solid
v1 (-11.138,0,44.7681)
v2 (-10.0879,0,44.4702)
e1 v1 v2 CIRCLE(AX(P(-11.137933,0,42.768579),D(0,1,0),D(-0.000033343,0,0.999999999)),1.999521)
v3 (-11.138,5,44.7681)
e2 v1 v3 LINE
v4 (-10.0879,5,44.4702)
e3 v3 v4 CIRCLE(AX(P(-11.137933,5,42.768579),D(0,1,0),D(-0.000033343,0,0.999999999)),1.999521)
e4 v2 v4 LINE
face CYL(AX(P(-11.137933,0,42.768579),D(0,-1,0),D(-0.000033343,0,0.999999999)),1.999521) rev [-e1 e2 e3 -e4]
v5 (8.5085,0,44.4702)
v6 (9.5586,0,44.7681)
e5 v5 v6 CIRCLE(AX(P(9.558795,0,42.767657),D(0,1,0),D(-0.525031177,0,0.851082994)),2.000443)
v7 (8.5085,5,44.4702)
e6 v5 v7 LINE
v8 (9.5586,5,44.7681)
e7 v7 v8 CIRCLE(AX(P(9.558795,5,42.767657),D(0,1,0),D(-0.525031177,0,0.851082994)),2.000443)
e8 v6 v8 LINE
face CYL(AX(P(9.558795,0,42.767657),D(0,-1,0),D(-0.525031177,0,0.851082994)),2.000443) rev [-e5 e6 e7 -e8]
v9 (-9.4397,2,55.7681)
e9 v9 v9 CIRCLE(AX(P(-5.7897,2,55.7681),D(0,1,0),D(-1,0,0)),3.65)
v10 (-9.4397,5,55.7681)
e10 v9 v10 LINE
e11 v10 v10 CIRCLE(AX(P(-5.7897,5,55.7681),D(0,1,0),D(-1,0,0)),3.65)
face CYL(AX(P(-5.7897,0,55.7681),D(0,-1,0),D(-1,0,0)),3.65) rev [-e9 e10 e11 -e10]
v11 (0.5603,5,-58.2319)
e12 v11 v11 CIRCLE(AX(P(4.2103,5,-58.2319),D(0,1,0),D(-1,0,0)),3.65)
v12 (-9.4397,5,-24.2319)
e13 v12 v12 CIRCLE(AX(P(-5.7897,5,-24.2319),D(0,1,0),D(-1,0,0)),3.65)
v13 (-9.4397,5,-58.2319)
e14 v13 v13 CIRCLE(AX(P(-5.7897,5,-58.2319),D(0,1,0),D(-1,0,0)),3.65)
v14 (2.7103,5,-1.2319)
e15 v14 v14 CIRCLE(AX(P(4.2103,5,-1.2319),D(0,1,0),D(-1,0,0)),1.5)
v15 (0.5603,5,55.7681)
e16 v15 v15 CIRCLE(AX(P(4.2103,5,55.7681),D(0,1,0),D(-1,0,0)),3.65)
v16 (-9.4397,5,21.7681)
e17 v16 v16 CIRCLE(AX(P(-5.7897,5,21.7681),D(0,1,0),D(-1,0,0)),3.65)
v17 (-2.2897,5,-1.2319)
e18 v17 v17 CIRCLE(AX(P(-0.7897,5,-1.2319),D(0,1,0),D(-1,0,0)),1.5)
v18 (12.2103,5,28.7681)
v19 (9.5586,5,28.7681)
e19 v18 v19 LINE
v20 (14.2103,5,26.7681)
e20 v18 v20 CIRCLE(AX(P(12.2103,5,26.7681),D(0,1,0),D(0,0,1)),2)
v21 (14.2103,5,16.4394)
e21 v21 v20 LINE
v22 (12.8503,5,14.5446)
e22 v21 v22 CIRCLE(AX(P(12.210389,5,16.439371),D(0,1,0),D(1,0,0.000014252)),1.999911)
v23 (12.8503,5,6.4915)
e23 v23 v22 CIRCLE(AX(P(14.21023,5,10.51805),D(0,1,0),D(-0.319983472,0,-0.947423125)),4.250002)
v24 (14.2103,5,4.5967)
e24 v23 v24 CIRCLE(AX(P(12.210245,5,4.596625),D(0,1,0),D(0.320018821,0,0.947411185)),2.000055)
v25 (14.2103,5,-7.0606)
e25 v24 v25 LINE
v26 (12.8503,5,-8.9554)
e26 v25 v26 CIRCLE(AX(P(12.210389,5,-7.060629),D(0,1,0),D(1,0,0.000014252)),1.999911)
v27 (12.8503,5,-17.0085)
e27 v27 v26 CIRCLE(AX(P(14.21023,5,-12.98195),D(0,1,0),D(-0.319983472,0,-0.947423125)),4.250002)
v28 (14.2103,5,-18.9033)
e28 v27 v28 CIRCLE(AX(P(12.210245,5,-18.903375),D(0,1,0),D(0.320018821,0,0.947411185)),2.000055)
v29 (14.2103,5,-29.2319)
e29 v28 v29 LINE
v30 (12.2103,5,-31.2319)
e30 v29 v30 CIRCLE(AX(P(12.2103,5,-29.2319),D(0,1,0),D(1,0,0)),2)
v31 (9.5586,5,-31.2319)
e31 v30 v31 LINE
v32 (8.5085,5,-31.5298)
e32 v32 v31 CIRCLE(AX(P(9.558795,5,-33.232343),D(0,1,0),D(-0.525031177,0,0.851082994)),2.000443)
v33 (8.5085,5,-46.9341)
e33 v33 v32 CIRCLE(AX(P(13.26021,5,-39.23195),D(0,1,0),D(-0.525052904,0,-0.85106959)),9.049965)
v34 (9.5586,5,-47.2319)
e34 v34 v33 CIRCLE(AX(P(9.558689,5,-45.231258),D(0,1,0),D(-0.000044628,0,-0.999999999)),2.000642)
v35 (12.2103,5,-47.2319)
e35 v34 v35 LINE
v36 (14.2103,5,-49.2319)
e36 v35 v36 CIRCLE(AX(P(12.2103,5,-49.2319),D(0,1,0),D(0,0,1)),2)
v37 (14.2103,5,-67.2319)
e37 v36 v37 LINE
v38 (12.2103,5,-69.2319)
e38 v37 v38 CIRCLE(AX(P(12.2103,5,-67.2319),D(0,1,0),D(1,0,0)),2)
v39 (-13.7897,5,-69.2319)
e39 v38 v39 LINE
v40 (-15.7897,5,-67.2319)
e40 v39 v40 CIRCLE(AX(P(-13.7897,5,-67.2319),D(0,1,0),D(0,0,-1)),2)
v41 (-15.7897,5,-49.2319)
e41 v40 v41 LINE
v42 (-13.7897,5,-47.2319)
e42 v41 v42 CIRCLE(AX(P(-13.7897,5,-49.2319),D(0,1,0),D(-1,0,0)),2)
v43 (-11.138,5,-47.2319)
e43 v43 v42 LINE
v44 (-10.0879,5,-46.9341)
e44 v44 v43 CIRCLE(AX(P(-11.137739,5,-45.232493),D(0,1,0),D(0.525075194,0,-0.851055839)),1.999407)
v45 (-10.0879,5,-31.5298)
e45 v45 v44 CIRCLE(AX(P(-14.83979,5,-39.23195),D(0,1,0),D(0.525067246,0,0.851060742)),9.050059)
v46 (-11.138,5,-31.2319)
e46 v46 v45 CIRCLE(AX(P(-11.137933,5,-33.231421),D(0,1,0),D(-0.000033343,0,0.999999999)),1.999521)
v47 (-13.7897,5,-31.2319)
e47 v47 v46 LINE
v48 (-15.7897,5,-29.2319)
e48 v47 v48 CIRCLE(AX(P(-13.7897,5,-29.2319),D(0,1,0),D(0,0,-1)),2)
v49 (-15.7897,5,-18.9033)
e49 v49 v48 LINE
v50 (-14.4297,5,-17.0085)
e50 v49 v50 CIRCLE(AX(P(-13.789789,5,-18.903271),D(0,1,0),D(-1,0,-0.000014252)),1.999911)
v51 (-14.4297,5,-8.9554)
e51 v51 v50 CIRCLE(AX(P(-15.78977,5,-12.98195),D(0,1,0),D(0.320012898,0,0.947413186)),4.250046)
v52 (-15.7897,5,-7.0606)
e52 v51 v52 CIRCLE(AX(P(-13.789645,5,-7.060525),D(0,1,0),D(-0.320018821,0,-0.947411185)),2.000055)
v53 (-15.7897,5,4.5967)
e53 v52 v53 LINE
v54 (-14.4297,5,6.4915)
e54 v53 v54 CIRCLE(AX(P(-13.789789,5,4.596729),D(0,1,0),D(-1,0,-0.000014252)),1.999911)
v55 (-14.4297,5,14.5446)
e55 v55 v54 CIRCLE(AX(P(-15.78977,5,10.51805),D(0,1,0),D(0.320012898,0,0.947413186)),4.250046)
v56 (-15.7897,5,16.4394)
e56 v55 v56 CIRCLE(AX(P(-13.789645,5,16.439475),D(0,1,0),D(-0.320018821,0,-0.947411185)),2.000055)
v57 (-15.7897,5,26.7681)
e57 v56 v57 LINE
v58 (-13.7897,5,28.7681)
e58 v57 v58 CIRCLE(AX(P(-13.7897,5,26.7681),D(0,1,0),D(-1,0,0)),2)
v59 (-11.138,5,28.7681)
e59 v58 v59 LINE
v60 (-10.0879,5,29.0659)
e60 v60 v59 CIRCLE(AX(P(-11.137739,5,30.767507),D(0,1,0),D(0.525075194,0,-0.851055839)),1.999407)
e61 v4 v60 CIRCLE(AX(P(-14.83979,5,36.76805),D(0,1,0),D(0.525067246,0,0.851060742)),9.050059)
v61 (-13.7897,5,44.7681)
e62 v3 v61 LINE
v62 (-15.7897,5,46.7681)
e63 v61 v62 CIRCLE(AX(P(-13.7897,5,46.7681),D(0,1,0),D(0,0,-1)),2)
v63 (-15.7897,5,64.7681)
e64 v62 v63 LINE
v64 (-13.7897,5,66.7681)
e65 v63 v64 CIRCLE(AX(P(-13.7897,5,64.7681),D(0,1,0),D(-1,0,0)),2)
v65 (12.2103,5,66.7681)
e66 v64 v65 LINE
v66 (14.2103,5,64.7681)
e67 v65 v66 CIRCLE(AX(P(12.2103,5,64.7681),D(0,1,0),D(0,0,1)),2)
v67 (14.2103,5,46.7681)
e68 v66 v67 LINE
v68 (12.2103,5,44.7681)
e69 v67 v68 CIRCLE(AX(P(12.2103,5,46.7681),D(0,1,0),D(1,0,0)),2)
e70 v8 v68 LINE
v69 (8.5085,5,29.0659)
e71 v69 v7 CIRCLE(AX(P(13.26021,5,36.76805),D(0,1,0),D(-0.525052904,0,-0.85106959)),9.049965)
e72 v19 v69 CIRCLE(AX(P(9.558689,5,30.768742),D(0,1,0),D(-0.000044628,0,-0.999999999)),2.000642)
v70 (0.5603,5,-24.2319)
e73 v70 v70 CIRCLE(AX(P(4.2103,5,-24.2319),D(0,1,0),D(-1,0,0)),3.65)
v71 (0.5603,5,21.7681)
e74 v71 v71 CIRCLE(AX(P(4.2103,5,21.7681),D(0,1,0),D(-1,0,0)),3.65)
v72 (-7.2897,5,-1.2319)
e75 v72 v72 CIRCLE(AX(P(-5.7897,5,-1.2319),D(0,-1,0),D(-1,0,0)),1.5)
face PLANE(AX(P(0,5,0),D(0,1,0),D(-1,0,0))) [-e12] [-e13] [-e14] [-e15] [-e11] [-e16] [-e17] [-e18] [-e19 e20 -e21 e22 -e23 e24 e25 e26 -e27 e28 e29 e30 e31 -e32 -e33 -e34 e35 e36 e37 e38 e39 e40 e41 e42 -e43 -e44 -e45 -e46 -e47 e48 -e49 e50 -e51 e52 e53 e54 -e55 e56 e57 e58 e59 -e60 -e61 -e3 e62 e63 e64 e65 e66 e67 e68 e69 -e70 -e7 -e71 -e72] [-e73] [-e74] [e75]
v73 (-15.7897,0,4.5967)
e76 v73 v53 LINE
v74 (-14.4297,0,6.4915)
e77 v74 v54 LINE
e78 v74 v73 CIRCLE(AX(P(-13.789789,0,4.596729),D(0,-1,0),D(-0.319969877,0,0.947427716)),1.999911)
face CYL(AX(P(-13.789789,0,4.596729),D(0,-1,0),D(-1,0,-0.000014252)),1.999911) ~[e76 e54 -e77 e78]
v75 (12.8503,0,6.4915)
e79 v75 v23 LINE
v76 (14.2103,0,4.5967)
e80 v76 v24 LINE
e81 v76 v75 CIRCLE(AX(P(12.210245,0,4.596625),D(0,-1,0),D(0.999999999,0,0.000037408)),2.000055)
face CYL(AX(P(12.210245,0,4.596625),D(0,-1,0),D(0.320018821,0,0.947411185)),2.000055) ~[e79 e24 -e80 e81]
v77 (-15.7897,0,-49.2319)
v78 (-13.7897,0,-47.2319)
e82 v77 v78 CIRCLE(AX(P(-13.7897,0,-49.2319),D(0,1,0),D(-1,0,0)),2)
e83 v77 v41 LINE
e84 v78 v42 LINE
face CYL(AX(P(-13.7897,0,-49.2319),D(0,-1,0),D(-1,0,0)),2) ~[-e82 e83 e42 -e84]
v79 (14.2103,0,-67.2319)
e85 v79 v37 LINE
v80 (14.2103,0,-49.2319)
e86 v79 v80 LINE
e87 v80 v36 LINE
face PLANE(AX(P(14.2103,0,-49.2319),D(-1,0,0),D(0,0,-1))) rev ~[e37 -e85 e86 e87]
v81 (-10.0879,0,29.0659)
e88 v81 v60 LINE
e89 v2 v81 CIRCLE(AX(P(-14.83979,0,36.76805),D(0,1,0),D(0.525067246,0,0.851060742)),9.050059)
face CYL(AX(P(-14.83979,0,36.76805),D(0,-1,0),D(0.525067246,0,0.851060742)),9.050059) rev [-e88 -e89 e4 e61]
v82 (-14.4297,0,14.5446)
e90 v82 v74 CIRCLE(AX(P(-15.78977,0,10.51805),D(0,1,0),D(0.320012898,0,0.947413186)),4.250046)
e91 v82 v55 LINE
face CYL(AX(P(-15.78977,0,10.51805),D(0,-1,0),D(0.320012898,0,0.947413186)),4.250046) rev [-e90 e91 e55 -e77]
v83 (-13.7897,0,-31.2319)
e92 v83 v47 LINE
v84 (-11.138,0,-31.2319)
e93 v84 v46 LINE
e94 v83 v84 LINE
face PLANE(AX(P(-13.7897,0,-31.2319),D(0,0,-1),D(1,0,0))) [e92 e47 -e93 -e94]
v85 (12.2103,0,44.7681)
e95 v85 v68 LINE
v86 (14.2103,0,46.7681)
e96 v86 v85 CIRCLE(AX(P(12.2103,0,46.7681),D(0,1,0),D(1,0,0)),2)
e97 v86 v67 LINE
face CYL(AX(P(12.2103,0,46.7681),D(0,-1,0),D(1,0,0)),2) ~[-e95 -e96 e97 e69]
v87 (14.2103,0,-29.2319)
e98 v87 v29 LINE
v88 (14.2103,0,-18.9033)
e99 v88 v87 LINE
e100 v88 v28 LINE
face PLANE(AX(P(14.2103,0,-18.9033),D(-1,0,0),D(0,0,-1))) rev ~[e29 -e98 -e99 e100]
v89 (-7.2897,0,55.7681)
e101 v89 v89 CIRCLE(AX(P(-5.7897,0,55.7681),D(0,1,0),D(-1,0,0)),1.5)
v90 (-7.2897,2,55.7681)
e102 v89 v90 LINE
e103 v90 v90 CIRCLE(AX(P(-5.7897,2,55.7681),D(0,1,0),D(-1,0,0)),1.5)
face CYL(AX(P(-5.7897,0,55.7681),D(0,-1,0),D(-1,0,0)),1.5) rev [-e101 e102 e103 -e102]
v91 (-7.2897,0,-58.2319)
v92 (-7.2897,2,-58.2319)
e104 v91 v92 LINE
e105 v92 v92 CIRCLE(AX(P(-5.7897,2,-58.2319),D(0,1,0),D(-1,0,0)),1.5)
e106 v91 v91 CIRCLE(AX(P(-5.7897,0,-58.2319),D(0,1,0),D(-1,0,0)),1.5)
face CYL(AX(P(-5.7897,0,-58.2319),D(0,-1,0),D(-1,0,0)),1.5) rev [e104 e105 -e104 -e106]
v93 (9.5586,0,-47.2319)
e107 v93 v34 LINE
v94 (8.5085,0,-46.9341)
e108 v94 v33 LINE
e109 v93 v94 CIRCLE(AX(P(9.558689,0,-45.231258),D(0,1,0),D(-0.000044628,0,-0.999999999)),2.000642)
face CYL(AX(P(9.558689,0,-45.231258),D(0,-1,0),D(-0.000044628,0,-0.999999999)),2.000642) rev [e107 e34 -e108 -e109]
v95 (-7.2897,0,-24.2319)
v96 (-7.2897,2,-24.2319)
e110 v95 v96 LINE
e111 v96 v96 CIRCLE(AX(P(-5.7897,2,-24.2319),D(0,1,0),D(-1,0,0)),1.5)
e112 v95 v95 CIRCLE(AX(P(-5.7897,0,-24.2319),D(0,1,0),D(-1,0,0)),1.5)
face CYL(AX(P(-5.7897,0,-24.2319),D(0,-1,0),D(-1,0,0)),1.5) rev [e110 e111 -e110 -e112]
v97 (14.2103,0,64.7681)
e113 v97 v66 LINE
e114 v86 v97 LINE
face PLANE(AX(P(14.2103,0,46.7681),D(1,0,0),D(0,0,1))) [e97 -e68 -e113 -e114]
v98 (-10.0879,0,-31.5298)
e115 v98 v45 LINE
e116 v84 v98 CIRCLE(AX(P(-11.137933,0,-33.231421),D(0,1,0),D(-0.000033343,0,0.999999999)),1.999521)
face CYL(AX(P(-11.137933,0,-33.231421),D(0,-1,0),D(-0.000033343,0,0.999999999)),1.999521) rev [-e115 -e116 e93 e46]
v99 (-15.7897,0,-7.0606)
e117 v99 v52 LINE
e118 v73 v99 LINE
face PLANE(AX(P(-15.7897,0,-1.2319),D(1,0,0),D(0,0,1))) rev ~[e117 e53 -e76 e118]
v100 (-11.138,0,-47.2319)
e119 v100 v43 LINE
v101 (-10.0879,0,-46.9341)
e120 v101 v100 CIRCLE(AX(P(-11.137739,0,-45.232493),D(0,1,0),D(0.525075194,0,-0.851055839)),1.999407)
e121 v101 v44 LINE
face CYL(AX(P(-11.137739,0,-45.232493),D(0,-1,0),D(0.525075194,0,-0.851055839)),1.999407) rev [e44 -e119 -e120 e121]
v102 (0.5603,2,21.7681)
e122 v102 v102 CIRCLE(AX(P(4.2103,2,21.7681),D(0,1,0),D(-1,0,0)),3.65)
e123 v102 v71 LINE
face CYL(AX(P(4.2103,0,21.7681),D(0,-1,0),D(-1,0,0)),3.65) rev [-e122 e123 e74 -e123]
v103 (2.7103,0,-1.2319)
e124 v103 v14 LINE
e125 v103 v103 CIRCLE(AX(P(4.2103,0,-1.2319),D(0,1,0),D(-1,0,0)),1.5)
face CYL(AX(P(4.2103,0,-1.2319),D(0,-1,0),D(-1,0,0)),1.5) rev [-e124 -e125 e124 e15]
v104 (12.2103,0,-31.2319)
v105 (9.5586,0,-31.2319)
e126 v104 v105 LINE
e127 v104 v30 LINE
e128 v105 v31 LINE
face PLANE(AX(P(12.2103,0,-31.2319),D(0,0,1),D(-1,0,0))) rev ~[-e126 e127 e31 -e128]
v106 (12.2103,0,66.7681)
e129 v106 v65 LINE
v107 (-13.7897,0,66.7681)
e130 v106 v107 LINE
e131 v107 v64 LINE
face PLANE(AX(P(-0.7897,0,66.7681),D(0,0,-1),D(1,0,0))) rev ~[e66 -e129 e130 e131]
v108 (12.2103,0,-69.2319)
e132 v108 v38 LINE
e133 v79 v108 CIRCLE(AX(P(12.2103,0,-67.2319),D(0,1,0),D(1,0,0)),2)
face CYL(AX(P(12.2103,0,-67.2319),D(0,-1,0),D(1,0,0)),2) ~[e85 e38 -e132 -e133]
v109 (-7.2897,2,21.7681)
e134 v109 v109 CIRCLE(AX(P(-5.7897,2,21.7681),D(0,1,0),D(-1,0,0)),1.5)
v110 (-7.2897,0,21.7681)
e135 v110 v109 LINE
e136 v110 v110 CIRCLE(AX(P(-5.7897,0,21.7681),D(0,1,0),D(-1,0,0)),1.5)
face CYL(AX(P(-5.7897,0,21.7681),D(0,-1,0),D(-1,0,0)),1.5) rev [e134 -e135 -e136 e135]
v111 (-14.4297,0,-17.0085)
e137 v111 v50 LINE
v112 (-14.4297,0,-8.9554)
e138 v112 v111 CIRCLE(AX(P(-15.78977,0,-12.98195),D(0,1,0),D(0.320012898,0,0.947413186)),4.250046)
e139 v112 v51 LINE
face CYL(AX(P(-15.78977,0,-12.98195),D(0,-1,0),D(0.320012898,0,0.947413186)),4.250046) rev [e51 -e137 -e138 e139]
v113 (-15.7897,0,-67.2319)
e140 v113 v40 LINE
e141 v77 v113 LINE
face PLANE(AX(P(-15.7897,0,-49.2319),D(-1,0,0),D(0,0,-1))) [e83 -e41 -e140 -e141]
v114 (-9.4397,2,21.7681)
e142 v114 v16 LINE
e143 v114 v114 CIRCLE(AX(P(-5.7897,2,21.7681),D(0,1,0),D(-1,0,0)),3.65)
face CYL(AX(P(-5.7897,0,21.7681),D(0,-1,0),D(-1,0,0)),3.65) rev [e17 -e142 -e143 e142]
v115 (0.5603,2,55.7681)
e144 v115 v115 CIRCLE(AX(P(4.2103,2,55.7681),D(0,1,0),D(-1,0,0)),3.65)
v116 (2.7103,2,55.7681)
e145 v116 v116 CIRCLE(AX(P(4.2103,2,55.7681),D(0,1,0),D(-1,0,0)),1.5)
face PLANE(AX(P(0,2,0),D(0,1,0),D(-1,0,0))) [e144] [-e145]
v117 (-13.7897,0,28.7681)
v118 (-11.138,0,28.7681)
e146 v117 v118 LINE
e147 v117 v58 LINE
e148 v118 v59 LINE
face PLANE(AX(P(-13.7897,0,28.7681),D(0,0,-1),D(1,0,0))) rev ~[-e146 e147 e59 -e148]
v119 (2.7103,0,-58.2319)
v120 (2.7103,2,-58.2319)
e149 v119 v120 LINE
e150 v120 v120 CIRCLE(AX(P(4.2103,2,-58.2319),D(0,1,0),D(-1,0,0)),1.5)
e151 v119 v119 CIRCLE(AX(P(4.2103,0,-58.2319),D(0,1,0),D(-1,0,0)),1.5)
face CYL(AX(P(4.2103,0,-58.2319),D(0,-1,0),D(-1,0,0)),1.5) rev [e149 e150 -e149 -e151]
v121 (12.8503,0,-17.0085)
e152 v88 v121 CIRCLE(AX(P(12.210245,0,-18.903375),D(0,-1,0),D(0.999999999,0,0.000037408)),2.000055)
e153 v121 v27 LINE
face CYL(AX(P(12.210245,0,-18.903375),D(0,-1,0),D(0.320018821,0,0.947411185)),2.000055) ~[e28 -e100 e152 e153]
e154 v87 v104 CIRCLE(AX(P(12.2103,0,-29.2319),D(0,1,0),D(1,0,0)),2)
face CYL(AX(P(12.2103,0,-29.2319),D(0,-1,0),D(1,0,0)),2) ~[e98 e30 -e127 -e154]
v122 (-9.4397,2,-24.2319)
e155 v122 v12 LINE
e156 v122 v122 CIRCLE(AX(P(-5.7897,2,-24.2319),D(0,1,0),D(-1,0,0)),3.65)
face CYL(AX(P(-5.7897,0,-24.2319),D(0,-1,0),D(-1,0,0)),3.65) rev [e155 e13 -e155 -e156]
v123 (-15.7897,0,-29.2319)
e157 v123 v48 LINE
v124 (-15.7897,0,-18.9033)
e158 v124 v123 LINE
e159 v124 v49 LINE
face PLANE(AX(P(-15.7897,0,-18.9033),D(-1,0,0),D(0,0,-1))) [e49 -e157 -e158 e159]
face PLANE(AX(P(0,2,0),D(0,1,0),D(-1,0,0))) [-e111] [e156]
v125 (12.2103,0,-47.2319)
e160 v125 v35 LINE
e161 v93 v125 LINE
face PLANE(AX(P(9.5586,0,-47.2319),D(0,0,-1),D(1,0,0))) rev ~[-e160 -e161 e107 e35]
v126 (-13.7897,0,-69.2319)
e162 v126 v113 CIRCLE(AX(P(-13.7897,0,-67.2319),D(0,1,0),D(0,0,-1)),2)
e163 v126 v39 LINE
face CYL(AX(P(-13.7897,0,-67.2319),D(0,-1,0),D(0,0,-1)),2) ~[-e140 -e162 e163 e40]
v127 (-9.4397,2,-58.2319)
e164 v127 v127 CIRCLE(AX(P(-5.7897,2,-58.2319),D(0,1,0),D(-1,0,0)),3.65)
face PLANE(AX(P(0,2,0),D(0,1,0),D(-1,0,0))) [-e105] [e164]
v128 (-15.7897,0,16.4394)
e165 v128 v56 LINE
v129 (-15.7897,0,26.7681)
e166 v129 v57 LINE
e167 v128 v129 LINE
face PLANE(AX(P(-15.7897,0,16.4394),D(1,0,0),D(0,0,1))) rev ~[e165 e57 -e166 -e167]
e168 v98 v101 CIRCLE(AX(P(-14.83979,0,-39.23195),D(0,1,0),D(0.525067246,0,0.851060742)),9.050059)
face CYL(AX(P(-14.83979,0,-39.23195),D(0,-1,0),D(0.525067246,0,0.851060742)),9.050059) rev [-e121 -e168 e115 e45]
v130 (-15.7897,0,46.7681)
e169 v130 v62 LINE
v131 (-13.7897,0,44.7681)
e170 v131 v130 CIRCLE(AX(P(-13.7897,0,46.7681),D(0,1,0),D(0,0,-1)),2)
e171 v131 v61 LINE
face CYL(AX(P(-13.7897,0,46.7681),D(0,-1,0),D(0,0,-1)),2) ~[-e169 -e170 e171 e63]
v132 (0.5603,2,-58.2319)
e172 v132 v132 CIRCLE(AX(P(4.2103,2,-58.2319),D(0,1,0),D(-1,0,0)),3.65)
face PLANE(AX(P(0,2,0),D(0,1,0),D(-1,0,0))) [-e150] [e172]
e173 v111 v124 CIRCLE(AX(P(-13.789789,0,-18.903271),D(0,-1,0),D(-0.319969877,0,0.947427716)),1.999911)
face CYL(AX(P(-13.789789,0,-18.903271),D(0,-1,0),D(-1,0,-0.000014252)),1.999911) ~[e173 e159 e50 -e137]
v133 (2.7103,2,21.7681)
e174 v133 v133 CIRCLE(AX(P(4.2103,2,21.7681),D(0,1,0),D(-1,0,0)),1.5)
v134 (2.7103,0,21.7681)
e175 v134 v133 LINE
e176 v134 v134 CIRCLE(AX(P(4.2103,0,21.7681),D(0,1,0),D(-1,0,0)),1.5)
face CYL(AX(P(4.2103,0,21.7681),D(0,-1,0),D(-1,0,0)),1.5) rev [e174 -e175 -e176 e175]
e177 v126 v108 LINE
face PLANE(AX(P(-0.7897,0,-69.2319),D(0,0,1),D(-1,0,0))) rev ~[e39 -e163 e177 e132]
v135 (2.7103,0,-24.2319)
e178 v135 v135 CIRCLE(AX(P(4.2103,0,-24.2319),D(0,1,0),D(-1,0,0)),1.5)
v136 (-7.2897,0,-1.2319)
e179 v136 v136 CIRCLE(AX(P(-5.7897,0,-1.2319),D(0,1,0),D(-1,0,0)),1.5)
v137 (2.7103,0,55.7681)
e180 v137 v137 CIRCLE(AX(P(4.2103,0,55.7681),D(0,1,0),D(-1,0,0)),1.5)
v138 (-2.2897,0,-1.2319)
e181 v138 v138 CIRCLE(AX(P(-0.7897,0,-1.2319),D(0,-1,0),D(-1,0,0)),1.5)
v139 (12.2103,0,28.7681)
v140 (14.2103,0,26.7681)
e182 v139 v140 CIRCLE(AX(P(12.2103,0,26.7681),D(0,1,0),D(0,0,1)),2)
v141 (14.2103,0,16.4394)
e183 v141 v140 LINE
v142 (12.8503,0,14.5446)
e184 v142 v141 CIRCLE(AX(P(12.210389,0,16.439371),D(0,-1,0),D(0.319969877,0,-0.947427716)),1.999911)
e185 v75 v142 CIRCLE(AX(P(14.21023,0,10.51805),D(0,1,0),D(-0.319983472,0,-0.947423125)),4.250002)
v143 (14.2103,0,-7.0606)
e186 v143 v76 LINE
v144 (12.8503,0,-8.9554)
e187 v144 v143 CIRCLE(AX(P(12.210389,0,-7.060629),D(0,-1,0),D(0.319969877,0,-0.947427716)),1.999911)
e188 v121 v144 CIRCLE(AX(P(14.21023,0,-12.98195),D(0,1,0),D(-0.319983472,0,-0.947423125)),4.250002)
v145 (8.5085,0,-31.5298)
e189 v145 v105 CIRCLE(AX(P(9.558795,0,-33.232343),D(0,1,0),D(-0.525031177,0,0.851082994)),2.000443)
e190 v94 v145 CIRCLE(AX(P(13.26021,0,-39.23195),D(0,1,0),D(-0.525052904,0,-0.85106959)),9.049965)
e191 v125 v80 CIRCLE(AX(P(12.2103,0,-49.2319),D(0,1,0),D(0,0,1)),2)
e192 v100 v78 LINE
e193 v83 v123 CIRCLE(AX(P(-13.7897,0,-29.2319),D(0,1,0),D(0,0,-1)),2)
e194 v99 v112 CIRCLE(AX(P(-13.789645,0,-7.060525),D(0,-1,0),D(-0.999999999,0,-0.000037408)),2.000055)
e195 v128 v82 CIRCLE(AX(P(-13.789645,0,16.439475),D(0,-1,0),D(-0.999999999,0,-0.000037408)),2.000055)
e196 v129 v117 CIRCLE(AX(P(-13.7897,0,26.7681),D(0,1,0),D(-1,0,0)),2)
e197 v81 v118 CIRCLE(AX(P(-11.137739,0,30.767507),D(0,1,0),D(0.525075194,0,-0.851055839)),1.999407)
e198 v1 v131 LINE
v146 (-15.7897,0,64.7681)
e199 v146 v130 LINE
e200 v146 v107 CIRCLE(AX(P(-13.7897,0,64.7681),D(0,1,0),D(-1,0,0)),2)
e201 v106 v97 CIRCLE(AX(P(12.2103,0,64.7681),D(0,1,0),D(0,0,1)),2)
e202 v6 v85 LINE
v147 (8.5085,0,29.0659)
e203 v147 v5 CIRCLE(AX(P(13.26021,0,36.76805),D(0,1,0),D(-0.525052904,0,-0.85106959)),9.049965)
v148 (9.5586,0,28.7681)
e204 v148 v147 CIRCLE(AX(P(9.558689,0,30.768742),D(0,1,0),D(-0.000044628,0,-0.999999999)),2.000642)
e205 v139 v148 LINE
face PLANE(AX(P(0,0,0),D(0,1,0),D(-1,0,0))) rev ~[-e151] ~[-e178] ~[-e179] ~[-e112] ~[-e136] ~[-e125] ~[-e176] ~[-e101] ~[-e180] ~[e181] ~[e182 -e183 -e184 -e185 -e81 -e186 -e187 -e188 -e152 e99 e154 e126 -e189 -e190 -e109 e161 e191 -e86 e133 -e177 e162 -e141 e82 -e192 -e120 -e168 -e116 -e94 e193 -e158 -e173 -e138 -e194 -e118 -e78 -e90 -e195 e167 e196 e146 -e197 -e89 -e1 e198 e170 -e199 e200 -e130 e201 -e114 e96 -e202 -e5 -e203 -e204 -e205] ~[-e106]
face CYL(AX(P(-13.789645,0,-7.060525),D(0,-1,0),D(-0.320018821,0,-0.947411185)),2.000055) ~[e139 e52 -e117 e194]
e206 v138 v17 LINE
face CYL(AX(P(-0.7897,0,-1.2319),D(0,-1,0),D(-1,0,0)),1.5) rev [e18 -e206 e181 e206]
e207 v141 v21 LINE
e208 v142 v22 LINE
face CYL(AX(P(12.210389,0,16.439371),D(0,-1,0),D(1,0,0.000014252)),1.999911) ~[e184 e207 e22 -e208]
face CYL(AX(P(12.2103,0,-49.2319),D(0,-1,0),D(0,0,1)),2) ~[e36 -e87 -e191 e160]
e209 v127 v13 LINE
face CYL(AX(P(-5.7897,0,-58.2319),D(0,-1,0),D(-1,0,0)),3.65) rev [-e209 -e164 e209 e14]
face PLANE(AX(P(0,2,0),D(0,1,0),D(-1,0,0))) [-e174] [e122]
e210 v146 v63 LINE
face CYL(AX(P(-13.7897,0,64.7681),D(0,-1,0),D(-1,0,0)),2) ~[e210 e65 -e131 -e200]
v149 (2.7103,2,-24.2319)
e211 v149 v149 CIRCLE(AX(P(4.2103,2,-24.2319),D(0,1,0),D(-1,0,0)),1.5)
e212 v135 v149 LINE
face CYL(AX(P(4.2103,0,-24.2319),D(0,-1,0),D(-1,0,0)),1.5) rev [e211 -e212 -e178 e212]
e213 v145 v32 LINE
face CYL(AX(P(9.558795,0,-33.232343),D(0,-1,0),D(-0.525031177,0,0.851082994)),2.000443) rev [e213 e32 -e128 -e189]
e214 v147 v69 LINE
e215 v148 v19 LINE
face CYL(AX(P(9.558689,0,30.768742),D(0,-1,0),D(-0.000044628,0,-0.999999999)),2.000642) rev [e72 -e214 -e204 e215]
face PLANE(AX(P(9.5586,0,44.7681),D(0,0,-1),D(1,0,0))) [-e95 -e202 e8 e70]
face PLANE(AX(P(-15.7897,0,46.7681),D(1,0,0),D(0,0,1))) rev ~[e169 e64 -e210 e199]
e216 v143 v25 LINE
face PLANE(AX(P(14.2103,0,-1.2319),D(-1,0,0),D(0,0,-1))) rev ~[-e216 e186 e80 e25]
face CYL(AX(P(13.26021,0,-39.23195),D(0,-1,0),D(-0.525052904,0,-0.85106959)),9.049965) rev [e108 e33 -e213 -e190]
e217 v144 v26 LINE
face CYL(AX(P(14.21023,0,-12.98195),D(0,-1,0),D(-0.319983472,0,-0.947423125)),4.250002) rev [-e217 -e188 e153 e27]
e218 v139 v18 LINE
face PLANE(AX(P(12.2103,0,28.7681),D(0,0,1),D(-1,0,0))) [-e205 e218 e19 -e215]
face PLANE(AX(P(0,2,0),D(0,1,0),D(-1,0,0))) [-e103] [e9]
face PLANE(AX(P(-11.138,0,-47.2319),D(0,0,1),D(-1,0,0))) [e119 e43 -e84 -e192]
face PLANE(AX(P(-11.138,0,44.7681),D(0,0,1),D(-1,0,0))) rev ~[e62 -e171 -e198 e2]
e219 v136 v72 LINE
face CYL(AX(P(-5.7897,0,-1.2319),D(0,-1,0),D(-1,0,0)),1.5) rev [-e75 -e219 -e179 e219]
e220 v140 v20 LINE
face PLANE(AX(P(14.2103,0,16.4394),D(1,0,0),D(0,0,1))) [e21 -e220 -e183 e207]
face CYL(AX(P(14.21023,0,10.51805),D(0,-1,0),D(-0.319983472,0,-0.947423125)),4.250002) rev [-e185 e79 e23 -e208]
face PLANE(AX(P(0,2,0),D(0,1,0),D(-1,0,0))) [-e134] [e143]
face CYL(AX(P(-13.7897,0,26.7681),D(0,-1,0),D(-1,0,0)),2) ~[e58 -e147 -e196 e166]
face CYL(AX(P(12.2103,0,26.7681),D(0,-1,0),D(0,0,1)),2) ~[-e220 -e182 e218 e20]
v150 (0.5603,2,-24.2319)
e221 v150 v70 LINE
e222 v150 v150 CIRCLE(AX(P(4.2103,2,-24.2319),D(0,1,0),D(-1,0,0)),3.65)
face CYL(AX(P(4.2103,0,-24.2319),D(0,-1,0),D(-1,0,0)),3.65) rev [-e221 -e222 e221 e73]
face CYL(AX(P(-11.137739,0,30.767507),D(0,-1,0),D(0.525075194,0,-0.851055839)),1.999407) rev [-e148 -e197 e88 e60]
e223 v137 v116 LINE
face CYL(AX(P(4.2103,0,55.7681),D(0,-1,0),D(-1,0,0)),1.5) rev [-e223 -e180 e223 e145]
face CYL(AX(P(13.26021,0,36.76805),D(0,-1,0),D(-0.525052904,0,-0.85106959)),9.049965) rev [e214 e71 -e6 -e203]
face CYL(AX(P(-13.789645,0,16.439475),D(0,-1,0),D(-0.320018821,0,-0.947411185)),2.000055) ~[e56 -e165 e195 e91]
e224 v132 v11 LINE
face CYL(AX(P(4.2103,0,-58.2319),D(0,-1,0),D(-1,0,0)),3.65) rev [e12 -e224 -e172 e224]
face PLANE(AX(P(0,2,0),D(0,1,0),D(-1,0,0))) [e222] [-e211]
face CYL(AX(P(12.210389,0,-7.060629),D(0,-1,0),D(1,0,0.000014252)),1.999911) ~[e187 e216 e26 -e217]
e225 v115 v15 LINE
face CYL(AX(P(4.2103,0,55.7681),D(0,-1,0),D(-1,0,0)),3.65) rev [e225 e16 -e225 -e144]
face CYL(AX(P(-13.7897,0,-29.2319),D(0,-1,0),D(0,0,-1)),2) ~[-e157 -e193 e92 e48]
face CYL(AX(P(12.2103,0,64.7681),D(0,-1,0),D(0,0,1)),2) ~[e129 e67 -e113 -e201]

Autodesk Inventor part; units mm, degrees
ref_plane "YZ Plane" through (0, 0, 0) normal (1, 0, 0) x (0, 1, 0)
ref_plane "XZ Plane" through (0, 0, 0) normal (0, 1, 0) x (-1, 0, 0)
ref_plane "XY Plane" through (0, 0, 0) normal (0, 0, 1) x (1, 0, 0)
sketch "Sketch1" plane through (0, 0, 0) normal (0, 1, 0) x (-1, 0, 0)
  line L0 (13.7897, -1.2319) -> (-9.6368, -1.2319) construction
  line L1 (0.7897, 10.3965) -> (0.7897, -17.2319) construction
  line L2 (0.7897, -1.2319) -> (15.7897, -1.2319)
  line L3 (15.7897, -1.2319) -> (15.7897, -7.0606)
  line L4 (15.7897, -8.7319) -> (0.7897, -8.7319)
  line L5 (0.7897, -8.7319) -> (0.7897, -1.2319)
  line L6 (21.7897, -1.2319) -> (-22.2103, -1.2319) construction
  line L7 (0.7897, 17.7681) -> (0.7897, -29.2319) construction
  circle A0 centre (5.7897, -24.2319) radius 3.65
  circle A1 centre (5.7897, -24.2319) radius 5
  circle A2 centre (5.7897, -58.2319) radius 3.65
  circle A3 centre (5.7897, -58.2319) radius 5
  line L8 (0.7897, -17.2319) -> (15.7897, -17.2319)
  line L9 (15.7897, -18.9033) -> (15.7897, -29.2319)
  line L10 (13.7897, -31.2319) -> (11.138, -31.2319)
  line L11 (0.7897, -31.2319) -> (0.7897, -17.2319)
  line L12 (0.7897, -51.2319) -> (15.7897, -51.2319)
  line L13 (15.7897, -51.2319) -> (15.7897, -65.2319)
  line L14 (15.7897, -65.2319) -> (0.7897, -65.2319)
  line L15 (0.7897, -65.2319) -> (0.7897, -51.2319)
  arc A4 (14.4297, -8.9554) -> (14.4297, -17.0085) centre (15.7897, -12.9819) ccw
  line L16 (15.7897, -51.2319) -> (0.7897, -51.2319)
  line L17 (0.7897, -51.2319) -> (0.7897, -47.2319)
  line L18 (11.138, -47.2319) -> (13.7897, -47.2319)
  line L19 (15.7897, -49.2319) -> (15.7897, -51.2319)
  line L20 (15.7897, -65.2319) -> (0.7897, -65.2319)
  line L21 (0.7897, -65.2319) -> (0.7897, -69.2319)
  line L22 (0.7897, -69.2319) -> (13.7897, -69.2319)
  line L23 (15.7897, -67.2319) -> (15.7897, -65.2319)
  arc A5 (14.4297, -8.9554) -> (15.7897, -7.0606) centre (13.7897, -7.0606) ccw
  arc A6 (15.7897, -18.9033) -> (14.4297, -17.0085) centre (13.7897, -18.9033) ccw
  arc A7 (-12.8503, -17.0085) -> (-14.2103, -18.9033) centre (-12.2103, -18.9033) ccw
  circle A8 centre (-4.2103, -24.2319) radius 3.65
  circle A9 centre (-4.2103, -24.2319) radius 5
  line L24 (0.7897, -17.2319) -> (-14.2103, -17.2319)
  arc A10 (-12.8503, -17.0085) -> (-12.8503, -8.9554) centre (-14.2103, -12.9819) ccw
  arc A11 (-14.2103, -7.0606) -> (-12.8503, -8.9554) centre (-12.2103, -7.0606) ccw
  line L25 (-14.2103, -8.7319) -> (0.7897, -8.7319)
  line L26 (-14.2103, -1.2319) -> (-14.2103, -7.0606)
  line L27 (-14.2103, -18.9033) -> (-14.2103, -29.2319)
  line L28 (-12.2103, -31.2319) -> (-9.5586, -31.2319)
  line L29 (-14.2103, -49.2319) -> (-14.2103, -51.2319)
  line L30 (-9.5586, -47.2319) -> (-12.2103, -47.2319)
  line L31 (0.7897, -51.2319) -> (-14.2103, -51.2319)
  line L32 (-14.2103, -51.2319) -> (0.7897, -51.2319)
  line L33 (-14.2103, -51.2319) -> (-14.2103, -65.2319)
  circle A12 centre (-4.2103, -58.2319) radius 3.65
  circle A13 centre (-4.2103, -58.2319) radius 5
  line L34 (-14.2103, -67.2319) -> (-14.2103, -65.2319)
  line L35 (-14.2103, -65.2319) -> (0.7897, -65.2319)
  line L36 (-14.2103, -65.2319) -> (0.7897, -65.2319)
  line L37 (0.7897, -69.2319) -> (-12.2103, -69.2319)
  line L38 (0.7897, 6.2681) -> (0.7897, -1.2319)
  arc A14 (-12.8503, 6.4915) -> (-12.8503, 14.5446) centre (-14.2103, 10.5181) ccw
  line L39 (-14.2103, 6.2681) -> (0.7897, 6.2681)
  line L40 (-14.2103, -1.2319) -> (-14.2103, 4.5967)
  arc A15 (-12.8503, 6.4915) -> (-14.2103, 4.5967) centre (-12.2103, 4.5967) ccw
  line L41 (15.7897, -1.2319) -> (15.7897, 4.5967)
  line L42 (15.7897, 6.2681) -> (0.7897, 6.2681)
  line L43 (0.7897, -12.8604) -> (0.7897, 14.7681) construction
  line L44 (0.7897, -20.2319) -> (0.7897, 26.7681) construction
  circle A16 centre (5.7897, 55.7681) radius 3.65
  circle A17 centre (5.7897, 55.7681) radius 5
  line L45 (0.7897, 48.7681) -> (15.7897, 48.7681)
  line L46 (15.7897, 48.7681) -> (15.7897, 62.7681)
  line L47 (15.7897, 62.7681) -> (0.7897, 62.7681)
  line L48 (0.7897, 62.7681) -> (0.7897, 48.7681)
  line L49 (15.7897, 48.7681) -> (0.7897, 48.7681)
  line L50 (11.138, 44.7681) -> (13.7897, 44.7681)
  line L51 (15.7897, 45.7681) -> (15.7897, 48.7681)
  line L52 (15.7897, 62.7681) -> (0.7897, 62.7681)
  line L53 (0.7897, 66.7681) -> (13.7897, 66.7681)
  line L54 (15.7897, 64.7681) -> (15.7897, 62.7681)
  line L55 (0.7897, 62.7681) -> (0.7897, 66.7681)
  line L56 (13.7897, 28.7681) -> (11.138, 28.7681)
  circle A18 centre (5.7897, 21.7681) radius 3.65
  circle A19 centre (5.7897, 21.7681) radius 5
  line L57 (0.7897, 14.7681) -> (15.7897, 14.7681)
  line L58 (15.7897, 16.4394) -> (15.7897, 27.7681)
  arc A20 (14.4297, 14.5446) -> (14.4297, 6.4915) centre (15.7897, 10.5181) ccw
  arc A21 (15.7897, 4.5967) -> (14.4297, 6.4915) centre (13.7897, 4.5967) ccw
  arc A22 (14.4297, 14.5446) -> (15.7897, 16.4394) centre (13.7897, 16.4394) ccw
  line L59 (0.7897, 14.7681) -> (-14.2103, 14.7681)
  arc A23 (-14.2103, 16.4394) -> (-12.8503, 14.5446) centre (-12.2103, 16.4394) ccw
  circle A24 centre (-4.2103, 21.7681) radius 3.65
  line L60 (-14.2103, 16.4394) -> (-14.2103, 26.7681)
  line L61 (-12.2103, 28.7681) -> (-9.5586, 28.7681)
  line L62 (0.7897, 28.7681) -> (0.7897, 14.7681)
  circle A25 centre (-4.2103, 21.7681) radius 5
  line L63 (0.7897, 66.7681) -> (-12.2103, 66.7681)
  line L64 (-14.2103, 64.7681) -> (-14.2103, 62.7681)
  line L65 (0.7897, 48.7681) -> (0.7897, 44.7681)
  circle A26 centre (-4.2103, 55.7681) radius 3.65
  line L66 (-14.2103, 62.7681) -> (0.7897, 62.7681)
  line L67 (-14.2103, 62.7681) -> (0.7897, 62.7681)
  line L68 (-14.2103, 48.7681) -> (-14.2103, 62.7681)
  line L69 (0.7897, 48.7681) -> (-14.2103, 48.7681)
  line L70 (-14.2103, 48.7681) -> (0.7897, 48.7681)
  line L71 (-14.2103, 46.7681) -> (-14.2103, 48.7681)
  line L72 (-9.5586, 44.7681) -> (-12.2103, 44.7681)
  circle A27 centre (-4.2103, 55.7681) radius 5
  arc A28 (15.7897, 64.7681) -> (13.7897, 66.7681) centre (13.7897, 64.7681) ccw
  arc A29 (-12.2103, 66.7681) -> (-14.2103, 64.7681) centre (-12.2103, 64.7681) ccw
  arc A30 (13.7897, -69.2319) -> (15.7897, -67.2319) centre (13.7897, -67.2319) ccw
  arc A31 (-14.2103, -67.2319) -> (-12.2103, -69.2319) centre (-12.2103, -67.2319) ccw
  arc A32 (10.0879, 44.4702) -> (10.0879, 29.0659) centre (14.8397, 36.7681) ccw
  line L73 (15.7897, 46.7681) -> (15.7897, 45.7681)
  line L74 (15.7897, 26.7681) -> (15.7897, 27.7681)
  arc A33 (13.7897, 44.7681) -> (15.7897, 46.7681) centre (13.7897, 46.7681) ccw
  arc A34 (11.138, 44.7681) -> (10.0879, 44.4702) centre (11.138, 42.7681) ccw
  arc A35 (10.0879, 29.0659) -> (11.138, 28.7681) centre (11.138, 30.7681) ccw
  arc A36 (15.7897, 26.7681) -> (13.7897, 28.7681) centre (13.7897, 26.7681) ccw
  arc A37 (-8.5085, 29.0659) -> (-8.5085, 44.4702) centre (-13.2603, 36.7681) ccw
  line L75 (-14.2103, 45.7681) -> (-14.2103, 44.7681)
  line L76 (-14.2103, 27.7681) -> (-14.2103, 28.7681)
  arc A38 (-8.5085, 44.4702) -> (-9.5586, 44.7681) centre (-9.5586, 42.7681) ccw
  arc A39 (-9.5586, 28.7681) -> (-8.5085, 29.0659) centre (-9.5586, 30.7681) ccw
  arc A40 (-12.2103, 28.7681) -> (-14.2103, 26.7681) centre (-12.2103, 26.7681) ccw
  arc A41 (-14.2103, 46.7681) -> (-12.2103, 44.7681) centre (-12.2103, 46.7681) ccw
  arc A42 (10.0879, -31.5298) -> (10.0879, -46.9341) centre (14.8397, -39.2319) ccw
  arc A43 (-8.5085, -46.9341) -> (-8.5085, -31.5298) centre (-13.2603, -39.2319) ccw
  line L77 (-14.2103, -30.2319) -> (-14.2103, -31.2319)
  line L78 (-14.2103, -47.2319) -> (-14.2103, -48.2319)
  line L79 (15.7897, -30.2319) -> (15.7897, -31.2319)
  line L80 (15.7897, -47.2319) -> (15.7897, -48.2319)
  arc A44 (13.7897, -31.2319) -> (15.7897, -29.2319) centre (13.7897, -29.2319) ccw
  arc A45 (15.7897, -49.2319) -> (13.7897, -47.2319) centre (13.7897, -49.2319) ccw
  arc A46 (10.0879, -46.9341) -> (11.138, -47.2319) centre (11.138, -45.2319) ccw
  arc A47 (11.138, -31.2319) -> (10.0879, -31.5298) centre (11.138, -33.2319) ccw
  arc A48 (-9.5586, -47.2319) -> (-8.5085, -46.9341) centre (-9.5586, -45.2319) ccw
  arc A49 (-12.2103, -47.2319) -> (-14.2103, -49.2319) centre (-12.2103, -49.2319) ccw
  arc A50 (-8.5085, -31.5298) -> (-9.5586, -31.2319) centre (-9.5586, -33.2319) ccw
  arc A51 (-14.2103, -29.2319) -> (-12.2103, -31.2319) centre (-12.2103, -29.2319) ccw
  circle A52 centre (5.7897, 55.7681) radius 1.5
  circle A53 centre (-4.2103, 55.7681) radius 1.5
  circle A54 centre (5.7897, 21.7681) radius 1.5
  circle A55 centre (-4.2103, 21.7681) radius 1.5
  circle A56 centre (5.7897, -24.2319) radius 1.5
  circle A57 centre (-4.2103, -24.2319) radius 1.5
  circle A58 centre (5.7897, -58.2319) radius 1.5
  circle A59 centre (-4.2103, -58.2319) radius 1.5
  circle A60 centre (0.7897, -1.2319) radius 1.5
  circle A61 centre (5.7897, -1.2319) radius 1.5
  circle A62 centre (-4.2103, -1.2319) radius 1.5
  point P0 (0, 0)
  point P1 (15.7897, -69.2319)
  point P2 (-14.2103, -69.2319)
  point P3 (15.7897, 44.7681)
  point P4 (15.7897, 66.7681)
  point P5 (15.7897, 28.7681)
  point P6 (-14.2103, 66.7681)
  point P7 (10.6085, 44.7681)
  point P8 (10.6085, 28.7681)
  point P9 (-9.0292, 28.7681)
  point P10 (-9.0292, 44.7681)
  point P11 (10.6085, -31.2319)
  point P12 (10.6085, -47.2319)
  point P13 (-9.0292, -31.2319)
  point P14 (-9.0292, -47.2319)
  dimension "d0" = 15
  dimension "d1" = 7.5
  dimension "d2" = 7.3
  dimension "d3" = 23
  dimension "d4" = 10
  dimension "d5" = 7.3
  dimension "d6" = 10
  dimension "d7" = 34
  dimension "d8" = 4
  dimension "d9" = 4
  dimension "d10" = 2
  dimension "d11" = 2
  dimension "d12" = 2
  dimension "d13" = 2
  dimension "d14" = 2
  dimension "d19" = 3
  dimension "d20" = 3
  dimension "d21" = 3
  dimension "d22" = 3
  dimension "d23" = 3
  dimension "d24" = 3
  dimension "d25" = 3
  dimension "d26" = 3
  dimension "d27" = 3
  dimension "d28" = 3
  dimension "d29" = 3
extrude "Extrusion1" add sketch "Sketch1" along normal blind 5 contours A60 L38 L42 A21 L41 L2 A61 | L2 A61 L3 A5 L4 L5 A60 | L5 L25 A11 L26 L40 A15 L39 L38 A60 | L4 A5 A4 A6 L8 L24 A7 A10 A11 L25 | L39 A15 A14 A23 L59 L57 A22 A20 A21 L42 | A1 | A9 | A6 L9 A44 L10 A47 A42 A46 L18 A45 L19 L12 L31 L29 A49 L30 A48 A43 A50 L28 A51 L27 A7 L24 L8 | A25 | A19 | A23 L60 A40 L61 A39 A37 A38 L72 A41 L71 L69 L45 L51 A33 L50 A34 A32 A35 L56 A36 L58 A22 L57 L59 | A3 | L13 L14 L15 L12 | A13 | L31 L15 L35 L33 | A27 | L68 L66 L48 L69 | A17 | L45 L48 L47 L46 | L23 A30 L22 L21 L14 | L35 L21 L37 A31 L34 | L64 A29 L63 L55 L66 | L47 L55 L53 A28 L54
extrude "Extrusion2" add sketch "Sketch1" along normal blind 2 contours A0 | A2 | A8 | A12 | A16 | A18 | A24 | A26
properties part number "Stopper Lifter_3DPrint"
